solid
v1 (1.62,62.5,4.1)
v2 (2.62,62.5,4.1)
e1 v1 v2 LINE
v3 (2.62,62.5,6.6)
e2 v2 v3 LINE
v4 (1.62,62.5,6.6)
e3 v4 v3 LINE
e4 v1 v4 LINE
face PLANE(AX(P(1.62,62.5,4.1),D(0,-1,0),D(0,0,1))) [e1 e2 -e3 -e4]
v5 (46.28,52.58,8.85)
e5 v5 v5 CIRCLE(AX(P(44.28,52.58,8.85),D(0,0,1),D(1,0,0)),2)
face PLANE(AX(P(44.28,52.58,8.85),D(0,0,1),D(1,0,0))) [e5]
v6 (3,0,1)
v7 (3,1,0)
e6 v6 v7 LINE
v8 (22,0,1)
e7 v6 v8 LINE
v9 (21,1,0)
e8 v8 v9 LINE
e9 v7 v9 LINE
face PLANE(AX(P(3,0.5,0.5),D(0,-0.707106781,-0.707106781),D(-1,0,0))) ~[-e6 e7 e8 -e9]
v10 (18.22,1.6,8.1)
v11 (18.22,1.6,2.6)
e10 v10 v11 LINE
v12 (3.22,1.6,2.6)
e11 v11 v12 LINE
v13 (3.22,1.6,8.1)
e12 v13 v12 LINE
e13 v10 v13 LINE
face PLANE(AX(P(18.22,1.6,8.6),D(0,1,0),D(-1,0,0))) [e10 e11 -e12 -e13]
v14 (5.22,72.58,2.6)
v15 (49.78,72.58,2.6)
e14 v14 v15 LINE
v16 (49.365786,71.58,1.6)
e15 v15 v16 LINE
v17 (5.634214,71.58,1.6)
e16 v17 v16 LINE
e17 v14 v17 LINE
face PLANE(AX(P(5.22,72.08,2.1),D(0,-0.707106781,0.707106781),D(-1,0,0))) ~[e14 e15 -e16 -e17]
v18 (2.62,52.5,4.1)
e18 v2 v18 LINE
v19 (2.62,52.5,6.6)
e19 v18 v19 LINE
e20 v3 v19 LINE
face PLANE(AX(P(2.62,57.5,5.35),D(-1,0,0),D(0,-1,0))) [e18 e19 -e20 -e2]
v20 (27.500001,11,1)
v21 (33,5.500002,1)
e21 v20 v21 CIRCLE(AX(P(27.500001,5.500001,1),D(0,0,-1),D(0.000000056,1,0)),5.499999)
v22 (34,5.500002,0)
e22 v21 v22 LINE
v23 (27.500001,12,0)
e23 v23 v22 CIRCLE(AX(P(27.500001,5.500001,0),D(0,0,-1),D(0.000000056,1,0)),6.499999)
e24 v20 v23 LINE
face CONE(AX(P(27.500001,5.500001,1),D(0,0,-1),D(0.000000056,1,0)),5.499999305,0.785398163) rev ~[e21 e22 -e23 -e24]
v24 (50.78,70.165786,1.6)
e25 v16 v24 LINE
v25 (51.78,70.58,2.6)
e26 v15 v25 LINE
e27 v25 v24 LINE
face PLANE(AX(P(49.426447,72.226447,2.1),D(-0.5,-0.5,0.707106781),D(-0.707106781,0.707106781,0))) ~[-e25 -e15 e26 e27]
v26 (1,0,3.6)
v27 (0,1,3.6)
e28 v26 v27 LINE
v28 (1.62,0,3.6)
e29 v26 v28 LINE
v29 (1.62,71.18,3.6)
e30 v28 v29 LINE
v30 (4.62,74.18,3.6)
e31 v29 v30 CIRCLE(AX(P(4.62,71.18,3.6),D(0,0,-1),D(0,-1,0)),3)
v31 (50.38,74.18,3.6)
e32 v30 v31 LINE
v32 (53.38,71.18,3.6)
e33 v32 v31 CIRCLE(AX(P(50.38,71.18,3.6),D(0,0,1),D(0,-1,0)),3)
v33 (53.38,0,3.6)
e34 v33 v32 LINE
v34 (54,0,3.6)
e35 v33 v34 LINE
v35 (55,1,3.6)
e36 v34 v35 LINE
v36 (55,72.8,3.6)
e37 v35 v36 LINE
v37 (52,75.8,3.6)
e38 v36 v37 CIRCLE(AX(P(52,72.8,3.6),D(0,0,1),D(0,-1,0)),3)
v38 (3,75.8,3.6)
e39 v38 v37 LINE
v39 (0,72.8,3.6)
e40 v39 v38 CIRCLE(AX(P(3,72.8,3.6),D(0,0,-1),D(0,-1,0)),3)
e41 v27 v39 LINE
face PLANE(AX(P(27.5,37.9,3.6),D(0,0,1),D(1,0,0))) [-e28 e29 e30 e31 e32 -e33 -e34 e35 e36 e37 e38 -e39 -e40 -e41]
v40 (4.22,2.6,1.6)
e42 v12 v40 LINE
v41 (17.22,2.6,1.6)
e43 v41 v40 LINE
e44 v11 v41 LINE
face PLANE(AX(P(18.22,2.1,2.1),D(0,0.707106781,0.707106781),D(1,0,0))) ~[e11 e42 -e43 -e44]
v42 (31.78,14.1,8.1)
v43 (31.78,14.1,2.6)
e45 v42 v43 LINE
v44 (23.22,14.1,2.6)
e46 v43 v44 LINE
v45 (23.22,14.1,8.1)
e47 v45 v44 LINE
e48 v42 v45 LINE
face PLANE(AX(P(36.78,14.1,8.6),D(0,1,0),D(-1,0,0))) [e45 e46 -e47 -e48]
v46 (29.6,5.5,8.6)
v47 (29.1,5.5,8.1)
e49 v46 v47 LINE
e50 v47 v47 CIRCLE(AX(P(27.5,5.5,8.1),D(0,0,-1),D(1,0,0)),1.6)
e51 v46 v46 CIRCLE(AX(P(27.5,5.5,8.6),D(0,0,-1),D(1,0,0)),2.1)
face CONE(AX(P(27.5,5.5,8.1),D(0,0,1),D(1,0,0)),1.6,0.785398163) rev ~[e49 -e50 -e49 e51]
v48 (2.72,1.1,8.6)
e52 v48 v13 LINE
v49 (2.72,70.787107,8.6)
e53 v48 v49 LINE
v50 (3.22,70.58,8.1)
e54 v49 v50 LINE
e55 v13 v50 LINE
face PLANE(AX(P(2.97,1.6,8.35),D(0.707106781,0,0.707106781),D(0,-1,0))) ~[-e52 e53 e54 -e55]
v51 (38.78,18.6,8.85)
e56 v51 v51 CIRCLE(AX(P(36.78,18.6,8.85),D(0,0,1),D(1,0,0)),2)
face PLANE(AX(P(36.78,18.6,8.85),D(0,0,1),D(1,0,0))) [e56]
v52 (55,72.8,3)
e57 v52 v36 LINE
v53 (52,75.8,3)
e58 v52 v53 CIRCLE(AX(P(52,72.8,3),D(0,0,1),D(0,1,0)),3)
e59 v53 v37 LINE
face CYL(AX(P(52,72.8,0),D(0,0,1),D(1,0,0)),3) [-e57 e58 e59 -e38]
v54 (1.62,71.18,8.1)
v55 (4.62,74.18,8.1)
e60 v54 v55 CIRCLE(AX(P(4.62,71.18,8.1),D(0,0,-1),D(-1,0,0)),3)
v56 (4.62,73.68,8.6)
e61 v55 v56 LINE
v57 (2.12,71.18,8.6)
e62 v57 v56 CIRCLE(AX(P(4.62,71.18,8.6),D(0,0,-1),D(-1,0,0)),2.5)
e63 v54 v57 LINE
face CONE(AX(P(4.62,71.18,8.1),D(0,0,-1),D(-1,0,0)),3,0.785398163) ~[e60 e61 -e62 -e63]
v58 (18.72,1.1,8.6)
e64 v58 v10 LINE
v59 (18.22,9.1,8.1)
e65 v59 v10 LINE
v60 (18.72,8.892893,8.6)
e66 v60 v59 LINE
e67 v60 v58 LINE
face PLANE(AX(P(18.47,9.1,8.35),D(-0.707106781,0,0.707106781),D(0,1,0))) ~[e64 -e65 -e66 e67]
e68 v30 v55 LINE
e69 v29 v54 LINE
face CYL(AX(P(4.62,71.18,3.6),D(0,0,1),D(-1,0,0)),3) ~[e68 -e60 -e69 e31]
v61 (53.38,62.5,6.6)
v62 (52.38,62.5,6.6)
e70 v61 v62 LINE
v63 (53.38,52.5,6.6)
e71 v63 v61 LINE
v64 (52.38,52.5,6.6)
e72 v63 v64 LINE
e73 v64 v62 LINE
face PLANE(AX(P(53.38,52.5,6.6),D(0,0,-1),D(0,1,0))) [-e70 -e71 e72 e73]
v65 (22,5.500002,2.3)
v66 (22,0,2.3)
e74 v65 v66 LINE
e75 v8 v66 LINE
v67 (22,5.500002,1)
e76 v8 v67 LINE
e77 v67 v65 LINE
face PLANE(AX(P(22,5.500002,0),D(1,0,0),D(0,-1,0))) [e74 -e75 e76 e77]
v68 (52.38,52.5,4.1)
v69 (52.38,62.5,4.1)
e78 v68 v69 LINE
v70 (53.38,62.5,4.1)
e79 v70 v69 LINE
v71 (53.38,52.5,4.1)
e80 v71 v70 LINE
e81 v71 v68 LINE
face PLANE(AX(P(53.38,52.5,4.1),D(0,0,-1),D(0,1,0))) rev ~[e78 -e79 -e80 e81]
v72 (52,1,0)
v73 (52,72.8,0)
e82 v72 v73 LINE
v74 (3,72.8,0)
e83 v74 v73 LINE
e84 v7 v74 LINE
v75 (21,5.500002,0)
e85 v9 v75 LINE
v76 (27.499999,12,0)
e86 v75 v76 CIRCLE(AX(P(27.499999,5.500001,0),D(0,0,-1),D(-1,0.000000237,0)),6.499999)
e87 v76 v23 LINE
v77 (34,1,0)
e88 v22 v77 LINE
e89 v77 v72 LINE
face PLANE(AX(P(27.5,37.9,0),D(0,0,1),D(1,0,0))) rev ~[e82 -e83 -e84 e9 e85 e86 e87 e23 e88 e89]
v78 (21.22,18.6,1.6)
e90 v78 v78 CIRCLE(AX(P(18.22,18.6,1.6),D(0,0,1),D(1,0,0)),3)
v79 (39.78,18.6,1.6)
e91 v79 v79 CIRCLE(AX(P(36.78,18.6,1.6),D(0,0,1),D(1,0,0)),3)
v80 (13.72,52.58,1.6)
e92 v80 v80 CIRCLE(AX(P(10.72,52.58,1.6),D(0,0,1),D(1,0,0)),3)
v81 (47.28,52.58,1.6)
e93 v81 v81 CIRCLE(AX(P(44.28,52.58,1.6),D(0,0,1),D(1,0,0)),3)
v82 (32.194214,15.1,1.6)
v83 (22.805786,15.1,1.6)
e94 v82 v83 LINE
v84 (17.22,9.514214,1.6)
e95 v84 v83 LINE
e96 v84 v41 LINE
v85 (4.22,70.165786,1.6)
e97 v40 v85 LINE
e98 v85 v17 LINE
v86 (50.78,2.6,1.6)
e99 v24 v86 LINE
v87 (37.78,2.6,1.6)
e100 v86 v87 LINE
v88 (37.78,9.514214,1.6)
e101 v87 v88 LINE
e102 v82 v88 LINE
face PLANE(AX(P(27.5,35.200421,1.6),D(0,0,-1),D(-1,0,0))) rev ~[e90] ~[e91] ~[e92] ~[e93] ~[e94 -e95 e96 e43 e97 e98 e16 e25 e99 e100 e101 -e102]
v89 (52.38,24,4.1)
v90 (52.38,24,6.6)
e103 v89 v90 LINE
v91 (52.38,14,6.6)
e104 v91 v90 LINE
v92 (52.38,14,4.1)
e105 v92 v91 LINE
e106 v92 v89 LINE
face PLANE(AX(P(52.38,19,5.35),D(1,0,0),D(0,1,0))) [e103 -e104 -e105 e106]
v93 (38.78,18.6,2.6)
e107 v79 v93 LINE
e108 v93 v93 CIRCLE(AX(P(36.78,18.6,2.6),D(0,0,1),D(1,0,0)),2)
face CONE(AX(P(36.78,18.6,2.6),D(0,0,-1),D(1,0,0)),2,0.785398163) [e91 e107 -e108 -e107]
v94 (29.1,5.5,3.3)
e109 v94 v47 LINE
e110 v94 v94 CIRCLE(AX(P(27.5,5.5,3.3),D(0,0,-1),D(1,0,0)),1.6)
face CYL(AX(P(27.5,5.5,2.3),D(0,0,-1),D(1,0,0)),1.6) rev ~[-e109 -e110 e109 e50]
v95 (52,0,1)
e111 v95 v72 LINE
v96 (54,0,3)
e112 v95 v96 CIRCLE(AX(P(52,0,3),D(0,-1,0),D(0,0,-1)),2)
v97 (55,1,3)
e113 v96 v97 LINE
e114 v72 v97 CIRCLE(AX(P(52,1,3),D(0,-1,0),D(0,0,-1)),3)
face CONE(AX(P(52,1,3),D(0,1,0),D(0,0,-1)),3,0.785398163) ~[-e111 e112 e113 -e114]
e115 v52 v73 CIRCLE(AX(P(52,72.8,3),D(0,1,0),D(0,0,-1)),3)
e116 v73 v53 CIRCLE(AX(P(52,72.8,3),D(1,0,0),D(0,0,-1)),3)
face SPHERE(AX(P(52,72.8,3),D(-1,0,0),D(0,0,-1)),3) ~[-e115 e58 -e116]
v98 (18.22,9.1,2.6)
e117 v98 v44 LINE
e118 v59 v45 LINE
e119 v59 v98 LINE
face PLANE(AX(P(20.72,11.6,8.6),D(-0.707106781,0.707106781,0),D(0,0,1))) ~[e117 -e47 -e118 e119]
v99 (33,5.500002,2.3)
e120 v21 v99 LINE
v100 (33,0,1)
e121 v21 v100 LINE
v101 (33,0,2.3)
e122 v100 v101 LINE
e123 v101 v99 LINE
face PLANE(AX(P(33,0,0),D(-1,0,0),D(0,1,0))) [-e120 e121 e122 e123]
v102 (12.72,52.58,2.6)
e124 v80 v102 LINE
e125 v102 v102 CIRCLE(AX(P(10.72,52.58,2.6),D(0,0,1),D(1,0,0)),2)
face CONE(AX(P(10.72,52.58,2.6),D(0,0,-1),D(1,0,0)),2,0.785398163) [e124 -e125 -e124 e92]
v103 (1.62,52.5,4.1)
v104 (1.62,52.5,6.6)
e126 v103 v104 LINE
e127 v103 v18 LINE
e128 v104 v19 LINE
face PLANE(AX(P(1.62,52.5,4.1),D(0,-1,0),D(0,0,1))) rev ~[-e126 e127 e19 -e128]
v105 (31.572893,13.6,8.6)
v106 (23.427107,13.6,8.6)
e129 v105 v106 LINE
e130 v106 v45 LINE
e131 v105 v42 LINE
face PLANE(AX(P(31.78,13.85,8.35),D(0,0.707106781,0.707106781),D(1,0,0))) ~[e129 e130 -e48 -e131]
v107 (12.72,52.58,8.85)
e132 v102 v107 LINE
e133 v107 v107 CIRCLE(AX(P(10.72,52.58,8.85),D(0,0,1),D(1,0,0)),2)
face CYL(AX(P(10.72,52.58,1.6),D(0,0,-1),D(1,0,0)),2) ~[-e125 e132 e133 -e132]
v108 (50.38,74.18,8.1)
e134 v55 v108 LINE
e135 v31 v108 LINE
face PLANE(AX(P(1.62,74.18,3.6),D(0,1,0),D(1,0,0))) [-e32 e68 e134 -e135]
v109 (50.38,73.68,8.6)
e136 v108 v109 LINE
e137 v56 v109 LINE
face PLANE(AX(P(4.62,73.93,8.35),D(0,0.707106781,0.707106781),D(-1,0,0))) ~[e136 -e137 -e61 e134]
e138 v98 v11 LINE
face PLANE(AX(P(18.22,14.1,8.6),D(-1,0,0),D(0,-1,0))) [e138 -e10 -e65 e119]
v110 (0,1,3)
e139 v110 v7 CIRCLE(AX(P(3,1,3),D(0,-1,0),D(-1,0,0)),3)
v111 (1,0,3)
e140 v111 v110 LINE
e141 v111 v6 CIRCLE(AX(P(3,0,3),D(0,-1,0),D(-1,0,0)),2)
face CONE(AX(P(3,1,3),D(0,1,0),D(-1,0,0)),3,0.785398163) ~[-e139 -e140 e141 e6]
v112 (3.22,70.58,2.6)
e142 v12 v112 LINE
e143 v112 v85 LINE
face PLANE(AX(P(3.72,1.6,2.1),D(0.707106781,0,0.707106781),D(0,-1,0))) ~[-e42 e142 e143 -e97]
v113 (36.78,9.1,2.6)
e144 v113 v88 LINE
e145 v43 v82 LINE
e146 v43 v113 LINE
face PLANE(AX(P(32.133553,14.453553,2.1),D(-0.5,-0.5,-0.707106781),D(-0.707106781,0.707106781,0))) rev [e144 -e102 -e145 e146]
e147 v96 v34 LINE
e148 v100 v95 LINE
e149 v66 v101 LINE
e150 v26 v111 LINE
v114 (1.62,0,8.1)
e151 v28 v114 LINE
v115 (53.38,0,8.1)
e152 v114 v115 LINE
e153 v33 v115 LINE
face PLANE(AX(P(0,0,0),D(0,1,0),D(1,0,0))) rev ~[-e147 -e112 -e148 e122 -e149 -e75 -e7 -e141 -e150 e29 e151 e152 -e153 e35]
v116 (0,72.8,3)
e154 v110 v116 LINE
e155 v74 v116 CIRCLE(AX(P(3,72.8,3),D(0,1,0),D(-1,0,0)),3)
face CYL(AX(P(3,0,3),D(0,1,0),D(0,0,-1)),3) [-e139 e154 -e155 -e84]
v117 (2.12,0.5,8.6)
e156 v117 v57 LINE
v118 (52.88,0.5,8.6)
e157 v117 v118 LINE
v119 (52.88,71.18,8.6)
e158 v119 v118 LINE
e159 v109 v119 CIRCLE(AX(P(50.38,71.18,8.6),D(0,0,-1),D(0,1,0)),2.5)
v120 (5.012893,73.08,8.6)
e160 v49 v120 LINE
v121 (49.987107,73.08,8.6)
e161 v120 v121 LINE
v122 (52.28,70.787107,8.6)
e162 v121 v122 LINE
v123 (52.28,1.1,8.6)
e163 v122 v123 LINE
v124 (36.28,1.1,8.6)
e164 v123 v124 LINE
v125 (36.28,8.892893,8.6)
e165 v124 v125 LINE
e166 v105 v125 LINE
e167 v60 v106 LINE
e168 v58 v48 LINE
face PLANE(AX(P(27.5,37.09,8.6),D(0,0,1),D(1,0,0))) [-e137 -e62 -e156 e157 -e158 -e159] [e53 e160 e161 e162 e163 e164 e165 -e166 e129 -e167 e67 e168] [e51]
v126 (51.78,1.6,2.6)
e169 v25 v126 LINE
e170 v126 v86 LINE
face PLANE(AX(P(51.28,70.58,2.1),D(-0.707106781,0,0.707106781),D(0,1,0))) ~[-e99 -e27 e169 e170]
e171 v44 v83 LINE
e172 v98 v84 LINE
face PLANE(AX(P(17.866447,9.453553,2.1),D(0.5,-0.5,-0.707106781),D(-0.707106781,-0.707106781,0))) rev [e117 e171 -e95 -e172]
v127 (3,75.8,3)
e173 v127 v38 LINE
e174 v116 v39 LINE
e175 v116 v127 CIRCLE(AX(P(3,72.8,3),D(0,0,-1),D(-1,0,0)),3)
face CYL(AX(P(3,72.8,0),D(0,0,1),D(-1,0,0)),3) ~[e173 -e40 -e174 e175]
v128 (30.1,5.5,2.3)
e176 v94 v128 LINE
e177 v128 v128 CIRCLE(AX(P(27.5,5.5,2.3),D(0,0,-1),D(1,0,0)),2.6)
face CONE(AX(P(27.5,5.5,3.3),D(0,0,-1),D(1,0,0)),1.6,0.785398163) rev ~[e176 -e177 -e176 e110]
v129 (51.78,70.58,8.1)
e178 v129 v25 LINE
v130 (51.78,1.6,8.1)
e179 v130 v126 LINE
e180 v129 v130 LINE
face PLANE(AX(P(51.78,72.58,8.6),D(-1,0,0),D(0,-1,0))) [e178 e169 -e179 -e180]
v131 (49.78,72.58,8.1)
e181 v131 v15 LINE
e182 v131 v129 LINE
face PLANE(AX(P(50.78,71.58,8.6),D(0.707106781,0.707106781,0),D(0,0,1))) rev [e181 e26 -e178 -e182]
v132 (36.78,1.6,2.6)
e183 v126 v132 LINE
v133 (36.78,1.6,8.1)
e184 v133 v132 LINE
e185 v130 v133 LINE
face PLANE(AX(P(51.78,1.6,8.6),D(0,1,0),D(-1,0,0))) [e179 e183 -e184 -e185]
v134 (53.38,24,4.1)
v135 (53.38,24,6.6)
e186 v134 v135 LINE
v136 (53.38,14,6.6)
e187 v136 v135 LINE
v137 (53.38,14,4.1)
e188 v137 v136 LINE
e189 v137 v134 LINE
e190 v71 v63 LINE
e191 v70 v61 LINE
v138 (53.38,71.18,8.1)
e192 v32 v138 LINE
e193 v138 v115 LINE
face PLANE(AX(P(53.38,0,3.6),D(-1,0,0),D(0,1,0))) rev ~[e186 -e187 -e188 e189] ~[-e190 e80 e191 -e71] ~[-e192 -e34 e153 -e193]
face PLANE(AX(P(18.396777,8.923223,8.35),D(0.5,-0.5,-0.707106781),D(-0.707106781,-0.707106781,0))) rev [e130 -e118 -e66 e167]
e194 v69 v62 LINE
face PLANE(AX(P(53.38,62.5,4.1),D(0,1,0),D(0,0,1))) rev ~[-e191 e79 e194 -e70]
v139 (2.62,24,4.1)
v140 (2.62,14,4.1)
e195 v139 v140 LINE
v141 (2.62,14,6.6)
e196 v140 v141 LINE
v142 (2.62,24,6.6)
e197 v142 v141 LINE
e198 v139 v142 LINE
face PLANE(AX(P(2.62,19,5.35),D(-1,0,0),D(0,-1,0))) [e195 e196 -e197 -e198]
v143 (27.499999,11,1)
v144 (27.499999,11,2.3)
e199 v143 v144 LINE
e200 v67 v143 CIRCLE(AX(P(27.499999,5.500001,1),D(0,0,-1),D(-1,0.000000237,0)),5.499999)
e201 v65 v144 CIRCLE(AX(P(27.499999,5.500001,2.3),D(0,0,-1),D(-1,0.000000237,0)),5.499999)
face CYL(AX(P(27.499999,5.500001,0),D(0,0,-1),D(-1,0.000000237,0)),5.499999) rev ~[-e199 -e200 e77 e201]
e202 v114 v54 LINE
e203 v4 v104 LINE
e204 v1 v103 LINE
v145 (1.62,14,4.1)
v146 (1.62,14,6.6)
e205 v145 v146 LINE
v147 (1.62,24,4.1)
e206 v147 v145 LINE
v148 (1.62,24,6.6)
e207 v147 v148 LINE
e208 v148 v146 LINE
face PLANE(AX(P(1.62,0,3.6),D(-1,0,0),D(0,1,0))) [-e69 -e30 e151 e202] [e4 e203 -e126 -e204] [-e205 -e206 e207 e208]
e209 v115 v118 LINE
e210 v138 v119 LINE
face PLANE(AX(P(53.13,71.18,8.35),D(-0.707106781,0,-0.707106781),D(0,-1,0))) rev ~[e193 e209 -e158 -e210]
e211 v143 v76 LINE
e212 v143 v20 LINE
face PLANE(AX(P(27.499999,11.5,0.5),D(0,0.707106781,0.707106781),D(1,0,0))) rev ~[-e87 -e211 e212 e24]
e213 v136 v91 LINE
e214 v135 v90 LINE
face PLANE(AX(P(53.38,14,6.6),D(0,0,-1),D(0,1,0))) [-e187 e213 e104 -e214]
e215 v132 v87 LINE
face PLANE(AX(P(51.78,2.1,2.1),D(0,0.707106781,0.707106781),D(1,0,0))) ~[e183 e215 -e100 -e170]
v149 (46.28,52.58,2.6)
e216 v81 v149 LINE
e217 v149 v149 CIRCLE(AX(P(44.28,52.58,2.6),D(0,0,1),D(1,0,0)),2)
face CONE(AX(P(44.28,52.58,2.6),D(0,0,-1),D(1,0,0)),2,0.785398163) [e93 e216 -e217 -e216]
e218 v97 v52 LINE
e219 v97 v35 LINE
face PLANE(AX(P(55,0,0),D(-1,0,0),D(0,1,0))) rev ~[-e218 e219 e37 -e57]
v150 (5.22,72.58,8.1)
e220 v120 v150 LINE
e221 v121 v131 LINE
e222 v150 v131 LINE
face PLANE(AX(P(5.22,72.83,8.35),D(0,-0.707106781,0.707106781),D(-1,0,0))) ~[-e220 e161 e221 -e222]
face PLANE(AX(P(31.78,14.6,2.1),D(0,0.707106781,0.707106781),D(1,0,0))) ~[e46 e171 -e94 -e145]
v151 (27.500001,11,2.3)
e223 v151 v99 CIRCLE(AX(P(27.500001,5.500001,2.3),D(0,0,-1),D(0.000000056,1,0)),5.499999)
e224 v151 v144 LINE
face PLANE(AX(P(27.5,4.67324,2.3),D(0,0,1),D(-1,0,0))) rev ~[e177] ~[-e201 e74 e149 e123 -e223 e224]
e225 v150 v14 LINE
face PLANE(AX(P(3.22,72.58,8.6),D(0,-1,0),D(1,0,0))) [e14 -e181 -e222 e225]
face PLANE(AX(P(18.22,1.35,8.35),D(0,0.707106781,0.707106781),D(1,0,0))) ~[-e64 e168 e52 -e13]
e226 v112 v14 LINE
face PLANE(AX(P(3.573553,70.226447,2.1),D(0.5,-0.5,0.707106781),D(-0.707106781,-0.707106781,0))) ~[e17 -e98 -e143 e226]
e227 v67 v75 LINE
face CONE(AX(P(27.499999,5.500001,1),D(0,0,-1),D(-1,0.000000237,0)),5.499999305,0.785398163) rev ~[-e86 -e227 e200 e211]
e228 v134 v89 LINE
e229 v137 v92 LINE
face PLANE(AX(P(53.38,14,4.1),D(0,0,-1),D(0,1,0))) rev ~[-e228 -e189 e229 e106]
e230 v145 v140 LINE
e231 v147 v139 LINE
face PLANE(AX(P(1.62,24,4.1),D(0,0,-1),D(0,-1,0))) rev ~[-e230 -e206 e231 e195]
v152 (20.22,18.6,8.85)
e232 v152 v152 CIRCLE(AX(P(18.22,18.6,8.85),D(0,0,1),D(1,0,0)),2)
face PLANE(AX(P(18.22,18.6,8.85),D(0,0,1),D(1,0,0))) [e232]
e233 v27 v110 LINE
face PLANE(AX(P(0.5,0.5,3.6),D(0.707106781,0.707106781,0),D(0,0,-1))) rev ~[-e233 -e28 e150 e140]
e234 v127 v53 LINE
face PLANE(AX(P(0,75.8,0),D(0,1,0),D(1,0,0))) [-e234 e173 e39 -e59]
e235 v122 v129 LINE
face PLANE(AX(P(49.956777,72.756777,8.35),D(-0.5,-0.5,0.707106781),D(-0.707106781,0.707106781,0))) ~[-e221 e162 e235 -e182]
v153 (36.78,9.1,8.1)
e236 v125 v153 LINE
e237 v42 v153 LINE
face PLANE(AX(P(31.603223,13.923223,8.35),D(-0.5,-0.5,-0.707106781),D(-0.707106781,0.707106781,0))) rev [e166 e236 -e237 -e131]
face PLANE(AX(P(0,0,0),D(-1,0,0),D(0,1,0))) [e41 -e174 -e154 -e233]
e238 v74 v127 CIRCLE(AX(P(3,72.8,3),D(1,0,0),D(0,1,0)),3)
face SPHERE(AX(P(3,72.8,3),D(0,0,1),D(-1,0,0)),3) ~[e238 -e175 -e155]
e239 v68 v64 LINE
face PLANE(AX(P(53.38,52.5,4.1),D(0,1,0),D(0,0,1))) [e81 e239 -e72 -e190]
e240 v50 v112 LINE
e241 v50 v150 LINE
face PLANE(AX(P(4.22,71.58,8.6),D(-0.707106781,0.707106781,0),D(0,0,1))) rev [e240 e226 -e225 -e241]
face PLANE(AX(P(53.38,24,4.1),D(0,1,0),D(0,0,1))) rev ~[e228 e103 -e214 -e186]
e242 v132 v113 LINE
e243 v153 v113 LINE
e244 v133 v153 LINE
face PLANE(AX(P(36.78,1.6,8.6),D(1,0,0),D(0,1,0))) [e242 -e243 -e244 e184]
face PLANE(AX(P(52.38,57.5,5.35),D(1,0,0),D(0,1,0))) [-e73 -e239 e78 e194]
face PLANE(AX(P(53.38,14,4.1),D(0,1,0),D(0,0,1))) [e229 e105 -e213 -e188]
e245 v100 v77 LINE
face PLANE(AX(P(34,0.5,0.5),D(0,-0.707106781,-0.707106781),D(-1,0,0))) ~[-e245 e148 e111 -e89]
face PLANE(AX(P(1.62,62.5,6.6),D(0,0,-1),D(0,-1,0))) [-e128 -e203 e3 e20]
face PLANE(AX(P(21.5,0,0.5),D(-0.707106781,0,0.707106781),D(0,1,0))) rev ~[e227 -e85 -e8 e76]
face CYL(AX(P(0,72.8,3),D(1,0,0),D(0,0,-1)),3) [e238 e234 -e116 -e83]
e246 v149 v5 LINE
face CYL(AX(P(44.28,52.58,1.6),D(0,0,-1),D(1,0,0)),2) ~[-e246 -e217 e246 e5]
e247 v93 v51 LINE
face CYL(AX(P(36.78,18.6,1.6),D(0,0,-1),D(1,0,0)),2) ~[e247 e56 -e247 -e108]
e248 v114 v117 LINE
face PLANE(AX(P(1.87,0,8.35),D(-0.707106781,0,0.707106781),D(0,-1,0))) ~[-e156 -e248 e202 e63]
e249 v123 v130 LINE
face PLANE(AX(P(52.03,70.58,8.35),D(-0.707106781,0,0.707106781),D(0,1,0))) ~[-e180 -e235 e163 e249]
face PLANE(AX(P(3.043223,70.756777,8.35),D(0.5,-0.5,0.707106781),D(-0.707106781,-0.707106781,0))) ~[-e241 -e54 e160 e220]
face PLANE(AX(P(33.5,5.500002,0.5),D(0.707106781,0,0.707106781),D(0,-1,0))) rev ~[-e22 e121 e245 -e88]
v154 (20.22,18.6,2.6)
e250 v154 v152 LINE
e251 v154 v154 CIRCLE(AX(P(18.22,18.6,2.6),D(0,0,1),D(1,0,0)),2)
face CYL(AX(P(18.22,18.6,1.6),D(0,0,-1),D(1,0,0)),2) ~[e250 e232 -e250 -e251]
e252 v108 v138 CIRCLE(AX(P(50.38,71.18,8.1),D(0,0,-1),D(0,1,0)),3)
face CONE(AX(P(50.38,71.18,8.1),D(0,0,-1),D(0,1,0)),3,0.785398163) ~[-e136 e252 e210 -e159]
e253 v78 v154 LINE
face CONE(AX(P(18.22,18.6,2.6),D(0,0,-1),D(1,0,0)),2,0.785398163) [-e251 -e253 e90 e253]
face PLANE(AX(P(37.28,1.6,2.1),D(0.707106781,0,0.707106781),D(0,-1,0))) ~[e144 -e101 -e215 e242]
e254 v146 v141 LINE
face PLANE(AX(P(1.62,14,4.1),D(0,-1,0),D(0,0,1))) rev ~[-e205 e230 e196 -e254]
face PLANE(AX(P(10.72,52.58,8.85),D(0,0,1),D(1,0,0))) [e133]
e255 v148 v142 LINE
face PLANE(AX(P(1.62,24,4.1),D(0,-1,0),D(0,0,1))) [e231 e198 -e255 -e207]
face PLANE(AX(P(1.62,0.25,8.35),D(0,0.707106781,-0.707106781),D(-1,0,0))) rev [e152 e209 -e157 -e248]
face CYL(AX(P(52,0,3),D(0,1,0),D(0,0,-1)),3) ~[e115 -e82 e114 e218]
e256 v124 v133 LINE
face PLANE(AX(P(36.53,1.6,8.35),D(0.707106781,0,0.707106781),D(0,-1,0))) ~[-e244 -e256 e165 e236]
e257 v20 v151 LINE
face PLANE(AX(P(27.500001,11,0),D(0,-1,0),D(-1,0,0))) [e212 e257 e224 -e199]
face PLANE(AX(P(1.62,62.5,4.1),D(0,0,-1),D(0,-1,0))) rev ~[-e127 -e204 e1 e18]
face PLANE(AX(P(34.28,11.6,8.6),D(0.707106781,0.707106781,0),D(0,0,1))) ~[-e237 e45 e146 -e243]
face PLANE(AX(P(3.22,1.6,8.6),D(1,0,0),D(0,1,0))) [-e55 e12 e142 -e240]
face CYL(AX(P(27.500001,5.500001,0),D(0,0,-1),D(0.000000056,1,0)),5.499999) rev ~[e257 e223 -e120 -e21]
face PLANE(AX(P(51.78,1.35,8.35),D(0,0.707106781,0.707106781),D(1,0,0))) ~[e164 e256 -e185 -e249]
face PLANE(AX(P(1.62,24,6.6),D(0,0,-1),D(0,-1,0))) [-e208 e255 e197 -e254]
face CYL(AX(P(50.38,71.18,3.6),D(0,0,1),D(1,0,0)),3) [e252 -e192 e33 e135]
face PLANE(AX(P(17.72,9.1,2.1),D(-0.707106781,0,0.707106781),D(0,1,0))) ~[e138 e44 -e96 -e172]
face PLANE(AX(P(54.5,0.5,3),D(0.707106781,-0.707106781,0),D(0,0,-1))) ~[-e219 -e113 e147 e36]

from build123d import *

# Parameters (mm, degrees)
SKETCH_W        = 55
SKETCH_H        = 75.8
PAD_DEPTH       = 3.6
SKETCH001_W     = 51.76
SKETCH001_H     = 74.18
PAD001_DEPTH    = 5
POCKET_DEPTH    = 7
SKETCH003_R     = 2
PAD002_DEPTH    = 7.25
SKETCH004_W     = 10
SKETCH004_H     = 2.5
POCKET001_DEPTH = 1
SKETCH005_W     = 10
SKETCH005_H     = 2.5
POCKET002_DEPTH = 1
POCKET003_DEPTH = 2.3
SKETCH007_R     = 1.6
POCKET004_DEPTH = 6.551
CHAMFER_SIZE    = 5
CHAMFER001_SIZE = 2
CHAMFER002_SIZE = 1
CHAMFER003_SIZE = 1
CHAMFER004_SIZE = 1
FILLET_R        = 3
CHAMFER005_SIZE = 0.5
CHAMFER006_SIZE = 1


with BuildPart() as part:
    # Sketch → Pad (new body)
    with BuildSketch(Plane.XY):
        with Locations((27.5, 37.9)):
            Rectangle(SKETCH_W, SKETCH_H)
    extrude(amount=PAD_DEPTH)

    # Sketch001 → Pad001 (new body)
    with BuildSketch(Plane.XY.offset(3.6)):
        with Locations((27.5, 37.09)):
            Rectangle(SKETCH001_W, SKETCH001_H)
    extrude(amount=PAD001_DEPTH)

    # Sketch002 → Pocket (cut)
    with BuildSketch(Plane.XY.offset(8.6)):
        Polygon((18.22, 1.6), (3.22, 1.6), (3.22, 72.58), (51.78, 72.58), (51.78, 1.6), (36.78, 1.6), (36.78, 14.1), (18.22, 14.1), align=None)
    extrude(amount=-POCKET_DEPTH, mode=Mode.SUBTRACT)

    # Sketch003 → Pad002 (new body)
    with BuildSketch(Plane.XY.offset(1.6)):
        with Locations((10.72, 52.58)):
            Circle(SKETCH003_R)
        with Locations((44.28, 52.58)):
            Circle(SKETCH003_R)
        with Locations((18.22, 18.6)):
            Circle(SKETCH003_R)
        with Locations((36.78, 18.6)):
            Circle(SKETCH003_R)
    extrude(amount=PAD002_DEPTH)

    # Sketch004 → Pocket001 (cut)
    with BuildSketch(Plane.YZ.offset(53.38)):
        with Locations((19, 5.35)):
            Rectangle(SKETCH004_W, SKETCH004_H)
        with Locations((57.5, 5.35)):
            Rectangle(SKETCH004_W, SKETCH004_H)
    extrude(amount=-POCKET001_DEPTH, mode=Mode.SUBTRACT)

    # Sketch005 → Pocket002 (cut)
    with BuildSketch(Plane(origin=(1.62, 0, 0), x_dir=(0, -1, 0), z_dir=(-1, 0, 0))):
        with Locations((-57.5, 5.35)):
            Rectangle(SKETCH005_W, SKETCH005_H)
        with Locations((-19, 5.35)):
            Rectangle(SKETCH005_W, SKETCH005_H)
    extrude(amount=-POCKET002_DEPTH, mode=Mode.SUBTRACT)

    # Sketch006 → Pocket003 (cut)
    with BuildSketch(Plane(origin=(0, 0, 0), x_dir=(1, 0, 0), z_dir=(0, 0, -1))):
        with BuildLine():
            Line((22, 0), (33, 0))
            Line((33, 0), (33, -5.500002))
            ThreePointArc((27.500001, -11), (31.389087, -9.389088), (33, -5.500002))
            Line((27.500001, -11), (27.499999, -11))
            ThreePointArc((22, -5.500002), (23.610913, -9.389088), (27.499999, -11))
            Line((22, -5.500002), (22, 0))
        make_face()
    extrude(amount=-POCKET003_DEPTH, mode=Mode.SUBTRACT)

    # Sketch007 → Pocket004 (cut, through all)
    with BuildSketch(Plane(origin=(0, 0, 2.3), x_dir=(1, 0, 0), z_dir=(0, 0, -1))):
        with Locations((27.5, -5.5)):
            Circle(SKETCH007_R)
    extrude(amount=-POCKET004_DEPTH, mode=Mode.SUBTRACT)

    # Chamfer
    chamfer_edges = [part.edges().sort_by_distance(p)[0] for p in [
        (18.22, 14.1, 5.1),
        (36.78, 14.1, 5.1),
    ]]
    chamfer(chamfer_edges, length=CHAMFER_SIZE)

    # Chamfer001
    chamfer001_edges = [part.edges().sort_by_distance(p)[0] for p in [
        (3.22, 72.58, 5.1),
        (51.78, 72.58, 5.1),
    ]]
    chamfer(chamfer001_edges, length=CHAMFER001_SIZE)

    # Chamfer002
    chamfer002_edges = [part.edges().sort_by_distance(p)[0] for p in [
        (3.22, 36.09, 1.6),
        (4.22, 71.58, 1.6),
        (10.72, 1.6, 1.6),
        (27.5, 72.58, 1.6),
        (18.22, 5.35, 1.6),
        (50.78, 71.58, 1.6),
        (20.72, 11.6, 1.6),
        (51.78, 36.09, 1.6),
        (27.5, 14.1, 1.6),
        (44.28, 1.6, 1.6),
        (34.28, 11.6, 1.6),
        (36.78, 5.35, 1.6),
        (8.72, 52.58, 1.6),
        (42.28, 52.58, 1.6),
        (34.78, 18.6, 1.6),
        (16.22, 18.6, 1.6),
    ]]
    chamfer(chamfer002_edges, length=CHAMFER002_SIZE)

    # Chamfer003
    chamfer003_edges = [part.edges().sort_by_distance(p)[0] for p in [
        (25.9, 5.5, 2.3),
    ]]
    chamfer(chamfer003_edges, length=CHAMFER003_SIZE)

    # Chamfer004
    chamfer004_edges = [part.edges().sort_by_distance(p)[0] for p in [
        (23.610913, 9.389088, 0),
        (31.389087, 9.389088, 0),
    ]]
    chamfer(chamfer004_edges, length=CHAMFER004_SIZE)

    # Fillet
    fillet_edges = [part.edges().sort_by_distance(p)[0] for p in [
        (1.62, 74.18, 6.1),
        (0, 75.8, 1.8),
        (0, 37.9, 0),
        (27.5, 75.8, 0),
        (53.38, 74.18, 6.1),
        (55, 37.9, 0),
        (55, 75.8, 1.8),
    ]]
    fillet(fillet_edges, radius=FILLET_R)

    # Chamfer005
    chamfer005_edges = [part.edges().sort_by_distance(p)[0] for p in [
        (1.62, 35.59, 8.6),
        (2.49868, 73.30132, 8.6),
        (27.5, 0, 8.6),
        (27.5, 74.18, 8.6),
        (53.38, 35.59, 8.6),
        (52.50132, 73.30132, 8.6),
        (51.78, 36.09, 8.6),
        (50.78, 71.58, 8.6),
        (44.28, 1.6, 8.6),
        (27.5, 72.58, 8.6),
        (36.78, 5.35, 8.6),
        (4.22, 71.58, 8.6),
        (34.28, 11.6, 8.6),
        (3.22, 36.09, 8.6),
        (27.5, 14.1, 8.6),
        (10.72, 1.6, 8.6),
        (20.72, 11.6, 8.6),
        (18.22, 5.35, 8.6),
        (25.9, 5.5, 8.6),
    ]]
    chamfer(chamfer005_edges, length=CHAMFER005_SIZE)

    # Chamfer006
    chamfer006_edges = [part.edges().sort_by_distance(p)[0] for p in [
        (43, 0, 0),
        (12, 0, 0),
    ]]
    chamfer(chamfer006_edges, length=CHAMFER006_SIZE)


solid = part.part
